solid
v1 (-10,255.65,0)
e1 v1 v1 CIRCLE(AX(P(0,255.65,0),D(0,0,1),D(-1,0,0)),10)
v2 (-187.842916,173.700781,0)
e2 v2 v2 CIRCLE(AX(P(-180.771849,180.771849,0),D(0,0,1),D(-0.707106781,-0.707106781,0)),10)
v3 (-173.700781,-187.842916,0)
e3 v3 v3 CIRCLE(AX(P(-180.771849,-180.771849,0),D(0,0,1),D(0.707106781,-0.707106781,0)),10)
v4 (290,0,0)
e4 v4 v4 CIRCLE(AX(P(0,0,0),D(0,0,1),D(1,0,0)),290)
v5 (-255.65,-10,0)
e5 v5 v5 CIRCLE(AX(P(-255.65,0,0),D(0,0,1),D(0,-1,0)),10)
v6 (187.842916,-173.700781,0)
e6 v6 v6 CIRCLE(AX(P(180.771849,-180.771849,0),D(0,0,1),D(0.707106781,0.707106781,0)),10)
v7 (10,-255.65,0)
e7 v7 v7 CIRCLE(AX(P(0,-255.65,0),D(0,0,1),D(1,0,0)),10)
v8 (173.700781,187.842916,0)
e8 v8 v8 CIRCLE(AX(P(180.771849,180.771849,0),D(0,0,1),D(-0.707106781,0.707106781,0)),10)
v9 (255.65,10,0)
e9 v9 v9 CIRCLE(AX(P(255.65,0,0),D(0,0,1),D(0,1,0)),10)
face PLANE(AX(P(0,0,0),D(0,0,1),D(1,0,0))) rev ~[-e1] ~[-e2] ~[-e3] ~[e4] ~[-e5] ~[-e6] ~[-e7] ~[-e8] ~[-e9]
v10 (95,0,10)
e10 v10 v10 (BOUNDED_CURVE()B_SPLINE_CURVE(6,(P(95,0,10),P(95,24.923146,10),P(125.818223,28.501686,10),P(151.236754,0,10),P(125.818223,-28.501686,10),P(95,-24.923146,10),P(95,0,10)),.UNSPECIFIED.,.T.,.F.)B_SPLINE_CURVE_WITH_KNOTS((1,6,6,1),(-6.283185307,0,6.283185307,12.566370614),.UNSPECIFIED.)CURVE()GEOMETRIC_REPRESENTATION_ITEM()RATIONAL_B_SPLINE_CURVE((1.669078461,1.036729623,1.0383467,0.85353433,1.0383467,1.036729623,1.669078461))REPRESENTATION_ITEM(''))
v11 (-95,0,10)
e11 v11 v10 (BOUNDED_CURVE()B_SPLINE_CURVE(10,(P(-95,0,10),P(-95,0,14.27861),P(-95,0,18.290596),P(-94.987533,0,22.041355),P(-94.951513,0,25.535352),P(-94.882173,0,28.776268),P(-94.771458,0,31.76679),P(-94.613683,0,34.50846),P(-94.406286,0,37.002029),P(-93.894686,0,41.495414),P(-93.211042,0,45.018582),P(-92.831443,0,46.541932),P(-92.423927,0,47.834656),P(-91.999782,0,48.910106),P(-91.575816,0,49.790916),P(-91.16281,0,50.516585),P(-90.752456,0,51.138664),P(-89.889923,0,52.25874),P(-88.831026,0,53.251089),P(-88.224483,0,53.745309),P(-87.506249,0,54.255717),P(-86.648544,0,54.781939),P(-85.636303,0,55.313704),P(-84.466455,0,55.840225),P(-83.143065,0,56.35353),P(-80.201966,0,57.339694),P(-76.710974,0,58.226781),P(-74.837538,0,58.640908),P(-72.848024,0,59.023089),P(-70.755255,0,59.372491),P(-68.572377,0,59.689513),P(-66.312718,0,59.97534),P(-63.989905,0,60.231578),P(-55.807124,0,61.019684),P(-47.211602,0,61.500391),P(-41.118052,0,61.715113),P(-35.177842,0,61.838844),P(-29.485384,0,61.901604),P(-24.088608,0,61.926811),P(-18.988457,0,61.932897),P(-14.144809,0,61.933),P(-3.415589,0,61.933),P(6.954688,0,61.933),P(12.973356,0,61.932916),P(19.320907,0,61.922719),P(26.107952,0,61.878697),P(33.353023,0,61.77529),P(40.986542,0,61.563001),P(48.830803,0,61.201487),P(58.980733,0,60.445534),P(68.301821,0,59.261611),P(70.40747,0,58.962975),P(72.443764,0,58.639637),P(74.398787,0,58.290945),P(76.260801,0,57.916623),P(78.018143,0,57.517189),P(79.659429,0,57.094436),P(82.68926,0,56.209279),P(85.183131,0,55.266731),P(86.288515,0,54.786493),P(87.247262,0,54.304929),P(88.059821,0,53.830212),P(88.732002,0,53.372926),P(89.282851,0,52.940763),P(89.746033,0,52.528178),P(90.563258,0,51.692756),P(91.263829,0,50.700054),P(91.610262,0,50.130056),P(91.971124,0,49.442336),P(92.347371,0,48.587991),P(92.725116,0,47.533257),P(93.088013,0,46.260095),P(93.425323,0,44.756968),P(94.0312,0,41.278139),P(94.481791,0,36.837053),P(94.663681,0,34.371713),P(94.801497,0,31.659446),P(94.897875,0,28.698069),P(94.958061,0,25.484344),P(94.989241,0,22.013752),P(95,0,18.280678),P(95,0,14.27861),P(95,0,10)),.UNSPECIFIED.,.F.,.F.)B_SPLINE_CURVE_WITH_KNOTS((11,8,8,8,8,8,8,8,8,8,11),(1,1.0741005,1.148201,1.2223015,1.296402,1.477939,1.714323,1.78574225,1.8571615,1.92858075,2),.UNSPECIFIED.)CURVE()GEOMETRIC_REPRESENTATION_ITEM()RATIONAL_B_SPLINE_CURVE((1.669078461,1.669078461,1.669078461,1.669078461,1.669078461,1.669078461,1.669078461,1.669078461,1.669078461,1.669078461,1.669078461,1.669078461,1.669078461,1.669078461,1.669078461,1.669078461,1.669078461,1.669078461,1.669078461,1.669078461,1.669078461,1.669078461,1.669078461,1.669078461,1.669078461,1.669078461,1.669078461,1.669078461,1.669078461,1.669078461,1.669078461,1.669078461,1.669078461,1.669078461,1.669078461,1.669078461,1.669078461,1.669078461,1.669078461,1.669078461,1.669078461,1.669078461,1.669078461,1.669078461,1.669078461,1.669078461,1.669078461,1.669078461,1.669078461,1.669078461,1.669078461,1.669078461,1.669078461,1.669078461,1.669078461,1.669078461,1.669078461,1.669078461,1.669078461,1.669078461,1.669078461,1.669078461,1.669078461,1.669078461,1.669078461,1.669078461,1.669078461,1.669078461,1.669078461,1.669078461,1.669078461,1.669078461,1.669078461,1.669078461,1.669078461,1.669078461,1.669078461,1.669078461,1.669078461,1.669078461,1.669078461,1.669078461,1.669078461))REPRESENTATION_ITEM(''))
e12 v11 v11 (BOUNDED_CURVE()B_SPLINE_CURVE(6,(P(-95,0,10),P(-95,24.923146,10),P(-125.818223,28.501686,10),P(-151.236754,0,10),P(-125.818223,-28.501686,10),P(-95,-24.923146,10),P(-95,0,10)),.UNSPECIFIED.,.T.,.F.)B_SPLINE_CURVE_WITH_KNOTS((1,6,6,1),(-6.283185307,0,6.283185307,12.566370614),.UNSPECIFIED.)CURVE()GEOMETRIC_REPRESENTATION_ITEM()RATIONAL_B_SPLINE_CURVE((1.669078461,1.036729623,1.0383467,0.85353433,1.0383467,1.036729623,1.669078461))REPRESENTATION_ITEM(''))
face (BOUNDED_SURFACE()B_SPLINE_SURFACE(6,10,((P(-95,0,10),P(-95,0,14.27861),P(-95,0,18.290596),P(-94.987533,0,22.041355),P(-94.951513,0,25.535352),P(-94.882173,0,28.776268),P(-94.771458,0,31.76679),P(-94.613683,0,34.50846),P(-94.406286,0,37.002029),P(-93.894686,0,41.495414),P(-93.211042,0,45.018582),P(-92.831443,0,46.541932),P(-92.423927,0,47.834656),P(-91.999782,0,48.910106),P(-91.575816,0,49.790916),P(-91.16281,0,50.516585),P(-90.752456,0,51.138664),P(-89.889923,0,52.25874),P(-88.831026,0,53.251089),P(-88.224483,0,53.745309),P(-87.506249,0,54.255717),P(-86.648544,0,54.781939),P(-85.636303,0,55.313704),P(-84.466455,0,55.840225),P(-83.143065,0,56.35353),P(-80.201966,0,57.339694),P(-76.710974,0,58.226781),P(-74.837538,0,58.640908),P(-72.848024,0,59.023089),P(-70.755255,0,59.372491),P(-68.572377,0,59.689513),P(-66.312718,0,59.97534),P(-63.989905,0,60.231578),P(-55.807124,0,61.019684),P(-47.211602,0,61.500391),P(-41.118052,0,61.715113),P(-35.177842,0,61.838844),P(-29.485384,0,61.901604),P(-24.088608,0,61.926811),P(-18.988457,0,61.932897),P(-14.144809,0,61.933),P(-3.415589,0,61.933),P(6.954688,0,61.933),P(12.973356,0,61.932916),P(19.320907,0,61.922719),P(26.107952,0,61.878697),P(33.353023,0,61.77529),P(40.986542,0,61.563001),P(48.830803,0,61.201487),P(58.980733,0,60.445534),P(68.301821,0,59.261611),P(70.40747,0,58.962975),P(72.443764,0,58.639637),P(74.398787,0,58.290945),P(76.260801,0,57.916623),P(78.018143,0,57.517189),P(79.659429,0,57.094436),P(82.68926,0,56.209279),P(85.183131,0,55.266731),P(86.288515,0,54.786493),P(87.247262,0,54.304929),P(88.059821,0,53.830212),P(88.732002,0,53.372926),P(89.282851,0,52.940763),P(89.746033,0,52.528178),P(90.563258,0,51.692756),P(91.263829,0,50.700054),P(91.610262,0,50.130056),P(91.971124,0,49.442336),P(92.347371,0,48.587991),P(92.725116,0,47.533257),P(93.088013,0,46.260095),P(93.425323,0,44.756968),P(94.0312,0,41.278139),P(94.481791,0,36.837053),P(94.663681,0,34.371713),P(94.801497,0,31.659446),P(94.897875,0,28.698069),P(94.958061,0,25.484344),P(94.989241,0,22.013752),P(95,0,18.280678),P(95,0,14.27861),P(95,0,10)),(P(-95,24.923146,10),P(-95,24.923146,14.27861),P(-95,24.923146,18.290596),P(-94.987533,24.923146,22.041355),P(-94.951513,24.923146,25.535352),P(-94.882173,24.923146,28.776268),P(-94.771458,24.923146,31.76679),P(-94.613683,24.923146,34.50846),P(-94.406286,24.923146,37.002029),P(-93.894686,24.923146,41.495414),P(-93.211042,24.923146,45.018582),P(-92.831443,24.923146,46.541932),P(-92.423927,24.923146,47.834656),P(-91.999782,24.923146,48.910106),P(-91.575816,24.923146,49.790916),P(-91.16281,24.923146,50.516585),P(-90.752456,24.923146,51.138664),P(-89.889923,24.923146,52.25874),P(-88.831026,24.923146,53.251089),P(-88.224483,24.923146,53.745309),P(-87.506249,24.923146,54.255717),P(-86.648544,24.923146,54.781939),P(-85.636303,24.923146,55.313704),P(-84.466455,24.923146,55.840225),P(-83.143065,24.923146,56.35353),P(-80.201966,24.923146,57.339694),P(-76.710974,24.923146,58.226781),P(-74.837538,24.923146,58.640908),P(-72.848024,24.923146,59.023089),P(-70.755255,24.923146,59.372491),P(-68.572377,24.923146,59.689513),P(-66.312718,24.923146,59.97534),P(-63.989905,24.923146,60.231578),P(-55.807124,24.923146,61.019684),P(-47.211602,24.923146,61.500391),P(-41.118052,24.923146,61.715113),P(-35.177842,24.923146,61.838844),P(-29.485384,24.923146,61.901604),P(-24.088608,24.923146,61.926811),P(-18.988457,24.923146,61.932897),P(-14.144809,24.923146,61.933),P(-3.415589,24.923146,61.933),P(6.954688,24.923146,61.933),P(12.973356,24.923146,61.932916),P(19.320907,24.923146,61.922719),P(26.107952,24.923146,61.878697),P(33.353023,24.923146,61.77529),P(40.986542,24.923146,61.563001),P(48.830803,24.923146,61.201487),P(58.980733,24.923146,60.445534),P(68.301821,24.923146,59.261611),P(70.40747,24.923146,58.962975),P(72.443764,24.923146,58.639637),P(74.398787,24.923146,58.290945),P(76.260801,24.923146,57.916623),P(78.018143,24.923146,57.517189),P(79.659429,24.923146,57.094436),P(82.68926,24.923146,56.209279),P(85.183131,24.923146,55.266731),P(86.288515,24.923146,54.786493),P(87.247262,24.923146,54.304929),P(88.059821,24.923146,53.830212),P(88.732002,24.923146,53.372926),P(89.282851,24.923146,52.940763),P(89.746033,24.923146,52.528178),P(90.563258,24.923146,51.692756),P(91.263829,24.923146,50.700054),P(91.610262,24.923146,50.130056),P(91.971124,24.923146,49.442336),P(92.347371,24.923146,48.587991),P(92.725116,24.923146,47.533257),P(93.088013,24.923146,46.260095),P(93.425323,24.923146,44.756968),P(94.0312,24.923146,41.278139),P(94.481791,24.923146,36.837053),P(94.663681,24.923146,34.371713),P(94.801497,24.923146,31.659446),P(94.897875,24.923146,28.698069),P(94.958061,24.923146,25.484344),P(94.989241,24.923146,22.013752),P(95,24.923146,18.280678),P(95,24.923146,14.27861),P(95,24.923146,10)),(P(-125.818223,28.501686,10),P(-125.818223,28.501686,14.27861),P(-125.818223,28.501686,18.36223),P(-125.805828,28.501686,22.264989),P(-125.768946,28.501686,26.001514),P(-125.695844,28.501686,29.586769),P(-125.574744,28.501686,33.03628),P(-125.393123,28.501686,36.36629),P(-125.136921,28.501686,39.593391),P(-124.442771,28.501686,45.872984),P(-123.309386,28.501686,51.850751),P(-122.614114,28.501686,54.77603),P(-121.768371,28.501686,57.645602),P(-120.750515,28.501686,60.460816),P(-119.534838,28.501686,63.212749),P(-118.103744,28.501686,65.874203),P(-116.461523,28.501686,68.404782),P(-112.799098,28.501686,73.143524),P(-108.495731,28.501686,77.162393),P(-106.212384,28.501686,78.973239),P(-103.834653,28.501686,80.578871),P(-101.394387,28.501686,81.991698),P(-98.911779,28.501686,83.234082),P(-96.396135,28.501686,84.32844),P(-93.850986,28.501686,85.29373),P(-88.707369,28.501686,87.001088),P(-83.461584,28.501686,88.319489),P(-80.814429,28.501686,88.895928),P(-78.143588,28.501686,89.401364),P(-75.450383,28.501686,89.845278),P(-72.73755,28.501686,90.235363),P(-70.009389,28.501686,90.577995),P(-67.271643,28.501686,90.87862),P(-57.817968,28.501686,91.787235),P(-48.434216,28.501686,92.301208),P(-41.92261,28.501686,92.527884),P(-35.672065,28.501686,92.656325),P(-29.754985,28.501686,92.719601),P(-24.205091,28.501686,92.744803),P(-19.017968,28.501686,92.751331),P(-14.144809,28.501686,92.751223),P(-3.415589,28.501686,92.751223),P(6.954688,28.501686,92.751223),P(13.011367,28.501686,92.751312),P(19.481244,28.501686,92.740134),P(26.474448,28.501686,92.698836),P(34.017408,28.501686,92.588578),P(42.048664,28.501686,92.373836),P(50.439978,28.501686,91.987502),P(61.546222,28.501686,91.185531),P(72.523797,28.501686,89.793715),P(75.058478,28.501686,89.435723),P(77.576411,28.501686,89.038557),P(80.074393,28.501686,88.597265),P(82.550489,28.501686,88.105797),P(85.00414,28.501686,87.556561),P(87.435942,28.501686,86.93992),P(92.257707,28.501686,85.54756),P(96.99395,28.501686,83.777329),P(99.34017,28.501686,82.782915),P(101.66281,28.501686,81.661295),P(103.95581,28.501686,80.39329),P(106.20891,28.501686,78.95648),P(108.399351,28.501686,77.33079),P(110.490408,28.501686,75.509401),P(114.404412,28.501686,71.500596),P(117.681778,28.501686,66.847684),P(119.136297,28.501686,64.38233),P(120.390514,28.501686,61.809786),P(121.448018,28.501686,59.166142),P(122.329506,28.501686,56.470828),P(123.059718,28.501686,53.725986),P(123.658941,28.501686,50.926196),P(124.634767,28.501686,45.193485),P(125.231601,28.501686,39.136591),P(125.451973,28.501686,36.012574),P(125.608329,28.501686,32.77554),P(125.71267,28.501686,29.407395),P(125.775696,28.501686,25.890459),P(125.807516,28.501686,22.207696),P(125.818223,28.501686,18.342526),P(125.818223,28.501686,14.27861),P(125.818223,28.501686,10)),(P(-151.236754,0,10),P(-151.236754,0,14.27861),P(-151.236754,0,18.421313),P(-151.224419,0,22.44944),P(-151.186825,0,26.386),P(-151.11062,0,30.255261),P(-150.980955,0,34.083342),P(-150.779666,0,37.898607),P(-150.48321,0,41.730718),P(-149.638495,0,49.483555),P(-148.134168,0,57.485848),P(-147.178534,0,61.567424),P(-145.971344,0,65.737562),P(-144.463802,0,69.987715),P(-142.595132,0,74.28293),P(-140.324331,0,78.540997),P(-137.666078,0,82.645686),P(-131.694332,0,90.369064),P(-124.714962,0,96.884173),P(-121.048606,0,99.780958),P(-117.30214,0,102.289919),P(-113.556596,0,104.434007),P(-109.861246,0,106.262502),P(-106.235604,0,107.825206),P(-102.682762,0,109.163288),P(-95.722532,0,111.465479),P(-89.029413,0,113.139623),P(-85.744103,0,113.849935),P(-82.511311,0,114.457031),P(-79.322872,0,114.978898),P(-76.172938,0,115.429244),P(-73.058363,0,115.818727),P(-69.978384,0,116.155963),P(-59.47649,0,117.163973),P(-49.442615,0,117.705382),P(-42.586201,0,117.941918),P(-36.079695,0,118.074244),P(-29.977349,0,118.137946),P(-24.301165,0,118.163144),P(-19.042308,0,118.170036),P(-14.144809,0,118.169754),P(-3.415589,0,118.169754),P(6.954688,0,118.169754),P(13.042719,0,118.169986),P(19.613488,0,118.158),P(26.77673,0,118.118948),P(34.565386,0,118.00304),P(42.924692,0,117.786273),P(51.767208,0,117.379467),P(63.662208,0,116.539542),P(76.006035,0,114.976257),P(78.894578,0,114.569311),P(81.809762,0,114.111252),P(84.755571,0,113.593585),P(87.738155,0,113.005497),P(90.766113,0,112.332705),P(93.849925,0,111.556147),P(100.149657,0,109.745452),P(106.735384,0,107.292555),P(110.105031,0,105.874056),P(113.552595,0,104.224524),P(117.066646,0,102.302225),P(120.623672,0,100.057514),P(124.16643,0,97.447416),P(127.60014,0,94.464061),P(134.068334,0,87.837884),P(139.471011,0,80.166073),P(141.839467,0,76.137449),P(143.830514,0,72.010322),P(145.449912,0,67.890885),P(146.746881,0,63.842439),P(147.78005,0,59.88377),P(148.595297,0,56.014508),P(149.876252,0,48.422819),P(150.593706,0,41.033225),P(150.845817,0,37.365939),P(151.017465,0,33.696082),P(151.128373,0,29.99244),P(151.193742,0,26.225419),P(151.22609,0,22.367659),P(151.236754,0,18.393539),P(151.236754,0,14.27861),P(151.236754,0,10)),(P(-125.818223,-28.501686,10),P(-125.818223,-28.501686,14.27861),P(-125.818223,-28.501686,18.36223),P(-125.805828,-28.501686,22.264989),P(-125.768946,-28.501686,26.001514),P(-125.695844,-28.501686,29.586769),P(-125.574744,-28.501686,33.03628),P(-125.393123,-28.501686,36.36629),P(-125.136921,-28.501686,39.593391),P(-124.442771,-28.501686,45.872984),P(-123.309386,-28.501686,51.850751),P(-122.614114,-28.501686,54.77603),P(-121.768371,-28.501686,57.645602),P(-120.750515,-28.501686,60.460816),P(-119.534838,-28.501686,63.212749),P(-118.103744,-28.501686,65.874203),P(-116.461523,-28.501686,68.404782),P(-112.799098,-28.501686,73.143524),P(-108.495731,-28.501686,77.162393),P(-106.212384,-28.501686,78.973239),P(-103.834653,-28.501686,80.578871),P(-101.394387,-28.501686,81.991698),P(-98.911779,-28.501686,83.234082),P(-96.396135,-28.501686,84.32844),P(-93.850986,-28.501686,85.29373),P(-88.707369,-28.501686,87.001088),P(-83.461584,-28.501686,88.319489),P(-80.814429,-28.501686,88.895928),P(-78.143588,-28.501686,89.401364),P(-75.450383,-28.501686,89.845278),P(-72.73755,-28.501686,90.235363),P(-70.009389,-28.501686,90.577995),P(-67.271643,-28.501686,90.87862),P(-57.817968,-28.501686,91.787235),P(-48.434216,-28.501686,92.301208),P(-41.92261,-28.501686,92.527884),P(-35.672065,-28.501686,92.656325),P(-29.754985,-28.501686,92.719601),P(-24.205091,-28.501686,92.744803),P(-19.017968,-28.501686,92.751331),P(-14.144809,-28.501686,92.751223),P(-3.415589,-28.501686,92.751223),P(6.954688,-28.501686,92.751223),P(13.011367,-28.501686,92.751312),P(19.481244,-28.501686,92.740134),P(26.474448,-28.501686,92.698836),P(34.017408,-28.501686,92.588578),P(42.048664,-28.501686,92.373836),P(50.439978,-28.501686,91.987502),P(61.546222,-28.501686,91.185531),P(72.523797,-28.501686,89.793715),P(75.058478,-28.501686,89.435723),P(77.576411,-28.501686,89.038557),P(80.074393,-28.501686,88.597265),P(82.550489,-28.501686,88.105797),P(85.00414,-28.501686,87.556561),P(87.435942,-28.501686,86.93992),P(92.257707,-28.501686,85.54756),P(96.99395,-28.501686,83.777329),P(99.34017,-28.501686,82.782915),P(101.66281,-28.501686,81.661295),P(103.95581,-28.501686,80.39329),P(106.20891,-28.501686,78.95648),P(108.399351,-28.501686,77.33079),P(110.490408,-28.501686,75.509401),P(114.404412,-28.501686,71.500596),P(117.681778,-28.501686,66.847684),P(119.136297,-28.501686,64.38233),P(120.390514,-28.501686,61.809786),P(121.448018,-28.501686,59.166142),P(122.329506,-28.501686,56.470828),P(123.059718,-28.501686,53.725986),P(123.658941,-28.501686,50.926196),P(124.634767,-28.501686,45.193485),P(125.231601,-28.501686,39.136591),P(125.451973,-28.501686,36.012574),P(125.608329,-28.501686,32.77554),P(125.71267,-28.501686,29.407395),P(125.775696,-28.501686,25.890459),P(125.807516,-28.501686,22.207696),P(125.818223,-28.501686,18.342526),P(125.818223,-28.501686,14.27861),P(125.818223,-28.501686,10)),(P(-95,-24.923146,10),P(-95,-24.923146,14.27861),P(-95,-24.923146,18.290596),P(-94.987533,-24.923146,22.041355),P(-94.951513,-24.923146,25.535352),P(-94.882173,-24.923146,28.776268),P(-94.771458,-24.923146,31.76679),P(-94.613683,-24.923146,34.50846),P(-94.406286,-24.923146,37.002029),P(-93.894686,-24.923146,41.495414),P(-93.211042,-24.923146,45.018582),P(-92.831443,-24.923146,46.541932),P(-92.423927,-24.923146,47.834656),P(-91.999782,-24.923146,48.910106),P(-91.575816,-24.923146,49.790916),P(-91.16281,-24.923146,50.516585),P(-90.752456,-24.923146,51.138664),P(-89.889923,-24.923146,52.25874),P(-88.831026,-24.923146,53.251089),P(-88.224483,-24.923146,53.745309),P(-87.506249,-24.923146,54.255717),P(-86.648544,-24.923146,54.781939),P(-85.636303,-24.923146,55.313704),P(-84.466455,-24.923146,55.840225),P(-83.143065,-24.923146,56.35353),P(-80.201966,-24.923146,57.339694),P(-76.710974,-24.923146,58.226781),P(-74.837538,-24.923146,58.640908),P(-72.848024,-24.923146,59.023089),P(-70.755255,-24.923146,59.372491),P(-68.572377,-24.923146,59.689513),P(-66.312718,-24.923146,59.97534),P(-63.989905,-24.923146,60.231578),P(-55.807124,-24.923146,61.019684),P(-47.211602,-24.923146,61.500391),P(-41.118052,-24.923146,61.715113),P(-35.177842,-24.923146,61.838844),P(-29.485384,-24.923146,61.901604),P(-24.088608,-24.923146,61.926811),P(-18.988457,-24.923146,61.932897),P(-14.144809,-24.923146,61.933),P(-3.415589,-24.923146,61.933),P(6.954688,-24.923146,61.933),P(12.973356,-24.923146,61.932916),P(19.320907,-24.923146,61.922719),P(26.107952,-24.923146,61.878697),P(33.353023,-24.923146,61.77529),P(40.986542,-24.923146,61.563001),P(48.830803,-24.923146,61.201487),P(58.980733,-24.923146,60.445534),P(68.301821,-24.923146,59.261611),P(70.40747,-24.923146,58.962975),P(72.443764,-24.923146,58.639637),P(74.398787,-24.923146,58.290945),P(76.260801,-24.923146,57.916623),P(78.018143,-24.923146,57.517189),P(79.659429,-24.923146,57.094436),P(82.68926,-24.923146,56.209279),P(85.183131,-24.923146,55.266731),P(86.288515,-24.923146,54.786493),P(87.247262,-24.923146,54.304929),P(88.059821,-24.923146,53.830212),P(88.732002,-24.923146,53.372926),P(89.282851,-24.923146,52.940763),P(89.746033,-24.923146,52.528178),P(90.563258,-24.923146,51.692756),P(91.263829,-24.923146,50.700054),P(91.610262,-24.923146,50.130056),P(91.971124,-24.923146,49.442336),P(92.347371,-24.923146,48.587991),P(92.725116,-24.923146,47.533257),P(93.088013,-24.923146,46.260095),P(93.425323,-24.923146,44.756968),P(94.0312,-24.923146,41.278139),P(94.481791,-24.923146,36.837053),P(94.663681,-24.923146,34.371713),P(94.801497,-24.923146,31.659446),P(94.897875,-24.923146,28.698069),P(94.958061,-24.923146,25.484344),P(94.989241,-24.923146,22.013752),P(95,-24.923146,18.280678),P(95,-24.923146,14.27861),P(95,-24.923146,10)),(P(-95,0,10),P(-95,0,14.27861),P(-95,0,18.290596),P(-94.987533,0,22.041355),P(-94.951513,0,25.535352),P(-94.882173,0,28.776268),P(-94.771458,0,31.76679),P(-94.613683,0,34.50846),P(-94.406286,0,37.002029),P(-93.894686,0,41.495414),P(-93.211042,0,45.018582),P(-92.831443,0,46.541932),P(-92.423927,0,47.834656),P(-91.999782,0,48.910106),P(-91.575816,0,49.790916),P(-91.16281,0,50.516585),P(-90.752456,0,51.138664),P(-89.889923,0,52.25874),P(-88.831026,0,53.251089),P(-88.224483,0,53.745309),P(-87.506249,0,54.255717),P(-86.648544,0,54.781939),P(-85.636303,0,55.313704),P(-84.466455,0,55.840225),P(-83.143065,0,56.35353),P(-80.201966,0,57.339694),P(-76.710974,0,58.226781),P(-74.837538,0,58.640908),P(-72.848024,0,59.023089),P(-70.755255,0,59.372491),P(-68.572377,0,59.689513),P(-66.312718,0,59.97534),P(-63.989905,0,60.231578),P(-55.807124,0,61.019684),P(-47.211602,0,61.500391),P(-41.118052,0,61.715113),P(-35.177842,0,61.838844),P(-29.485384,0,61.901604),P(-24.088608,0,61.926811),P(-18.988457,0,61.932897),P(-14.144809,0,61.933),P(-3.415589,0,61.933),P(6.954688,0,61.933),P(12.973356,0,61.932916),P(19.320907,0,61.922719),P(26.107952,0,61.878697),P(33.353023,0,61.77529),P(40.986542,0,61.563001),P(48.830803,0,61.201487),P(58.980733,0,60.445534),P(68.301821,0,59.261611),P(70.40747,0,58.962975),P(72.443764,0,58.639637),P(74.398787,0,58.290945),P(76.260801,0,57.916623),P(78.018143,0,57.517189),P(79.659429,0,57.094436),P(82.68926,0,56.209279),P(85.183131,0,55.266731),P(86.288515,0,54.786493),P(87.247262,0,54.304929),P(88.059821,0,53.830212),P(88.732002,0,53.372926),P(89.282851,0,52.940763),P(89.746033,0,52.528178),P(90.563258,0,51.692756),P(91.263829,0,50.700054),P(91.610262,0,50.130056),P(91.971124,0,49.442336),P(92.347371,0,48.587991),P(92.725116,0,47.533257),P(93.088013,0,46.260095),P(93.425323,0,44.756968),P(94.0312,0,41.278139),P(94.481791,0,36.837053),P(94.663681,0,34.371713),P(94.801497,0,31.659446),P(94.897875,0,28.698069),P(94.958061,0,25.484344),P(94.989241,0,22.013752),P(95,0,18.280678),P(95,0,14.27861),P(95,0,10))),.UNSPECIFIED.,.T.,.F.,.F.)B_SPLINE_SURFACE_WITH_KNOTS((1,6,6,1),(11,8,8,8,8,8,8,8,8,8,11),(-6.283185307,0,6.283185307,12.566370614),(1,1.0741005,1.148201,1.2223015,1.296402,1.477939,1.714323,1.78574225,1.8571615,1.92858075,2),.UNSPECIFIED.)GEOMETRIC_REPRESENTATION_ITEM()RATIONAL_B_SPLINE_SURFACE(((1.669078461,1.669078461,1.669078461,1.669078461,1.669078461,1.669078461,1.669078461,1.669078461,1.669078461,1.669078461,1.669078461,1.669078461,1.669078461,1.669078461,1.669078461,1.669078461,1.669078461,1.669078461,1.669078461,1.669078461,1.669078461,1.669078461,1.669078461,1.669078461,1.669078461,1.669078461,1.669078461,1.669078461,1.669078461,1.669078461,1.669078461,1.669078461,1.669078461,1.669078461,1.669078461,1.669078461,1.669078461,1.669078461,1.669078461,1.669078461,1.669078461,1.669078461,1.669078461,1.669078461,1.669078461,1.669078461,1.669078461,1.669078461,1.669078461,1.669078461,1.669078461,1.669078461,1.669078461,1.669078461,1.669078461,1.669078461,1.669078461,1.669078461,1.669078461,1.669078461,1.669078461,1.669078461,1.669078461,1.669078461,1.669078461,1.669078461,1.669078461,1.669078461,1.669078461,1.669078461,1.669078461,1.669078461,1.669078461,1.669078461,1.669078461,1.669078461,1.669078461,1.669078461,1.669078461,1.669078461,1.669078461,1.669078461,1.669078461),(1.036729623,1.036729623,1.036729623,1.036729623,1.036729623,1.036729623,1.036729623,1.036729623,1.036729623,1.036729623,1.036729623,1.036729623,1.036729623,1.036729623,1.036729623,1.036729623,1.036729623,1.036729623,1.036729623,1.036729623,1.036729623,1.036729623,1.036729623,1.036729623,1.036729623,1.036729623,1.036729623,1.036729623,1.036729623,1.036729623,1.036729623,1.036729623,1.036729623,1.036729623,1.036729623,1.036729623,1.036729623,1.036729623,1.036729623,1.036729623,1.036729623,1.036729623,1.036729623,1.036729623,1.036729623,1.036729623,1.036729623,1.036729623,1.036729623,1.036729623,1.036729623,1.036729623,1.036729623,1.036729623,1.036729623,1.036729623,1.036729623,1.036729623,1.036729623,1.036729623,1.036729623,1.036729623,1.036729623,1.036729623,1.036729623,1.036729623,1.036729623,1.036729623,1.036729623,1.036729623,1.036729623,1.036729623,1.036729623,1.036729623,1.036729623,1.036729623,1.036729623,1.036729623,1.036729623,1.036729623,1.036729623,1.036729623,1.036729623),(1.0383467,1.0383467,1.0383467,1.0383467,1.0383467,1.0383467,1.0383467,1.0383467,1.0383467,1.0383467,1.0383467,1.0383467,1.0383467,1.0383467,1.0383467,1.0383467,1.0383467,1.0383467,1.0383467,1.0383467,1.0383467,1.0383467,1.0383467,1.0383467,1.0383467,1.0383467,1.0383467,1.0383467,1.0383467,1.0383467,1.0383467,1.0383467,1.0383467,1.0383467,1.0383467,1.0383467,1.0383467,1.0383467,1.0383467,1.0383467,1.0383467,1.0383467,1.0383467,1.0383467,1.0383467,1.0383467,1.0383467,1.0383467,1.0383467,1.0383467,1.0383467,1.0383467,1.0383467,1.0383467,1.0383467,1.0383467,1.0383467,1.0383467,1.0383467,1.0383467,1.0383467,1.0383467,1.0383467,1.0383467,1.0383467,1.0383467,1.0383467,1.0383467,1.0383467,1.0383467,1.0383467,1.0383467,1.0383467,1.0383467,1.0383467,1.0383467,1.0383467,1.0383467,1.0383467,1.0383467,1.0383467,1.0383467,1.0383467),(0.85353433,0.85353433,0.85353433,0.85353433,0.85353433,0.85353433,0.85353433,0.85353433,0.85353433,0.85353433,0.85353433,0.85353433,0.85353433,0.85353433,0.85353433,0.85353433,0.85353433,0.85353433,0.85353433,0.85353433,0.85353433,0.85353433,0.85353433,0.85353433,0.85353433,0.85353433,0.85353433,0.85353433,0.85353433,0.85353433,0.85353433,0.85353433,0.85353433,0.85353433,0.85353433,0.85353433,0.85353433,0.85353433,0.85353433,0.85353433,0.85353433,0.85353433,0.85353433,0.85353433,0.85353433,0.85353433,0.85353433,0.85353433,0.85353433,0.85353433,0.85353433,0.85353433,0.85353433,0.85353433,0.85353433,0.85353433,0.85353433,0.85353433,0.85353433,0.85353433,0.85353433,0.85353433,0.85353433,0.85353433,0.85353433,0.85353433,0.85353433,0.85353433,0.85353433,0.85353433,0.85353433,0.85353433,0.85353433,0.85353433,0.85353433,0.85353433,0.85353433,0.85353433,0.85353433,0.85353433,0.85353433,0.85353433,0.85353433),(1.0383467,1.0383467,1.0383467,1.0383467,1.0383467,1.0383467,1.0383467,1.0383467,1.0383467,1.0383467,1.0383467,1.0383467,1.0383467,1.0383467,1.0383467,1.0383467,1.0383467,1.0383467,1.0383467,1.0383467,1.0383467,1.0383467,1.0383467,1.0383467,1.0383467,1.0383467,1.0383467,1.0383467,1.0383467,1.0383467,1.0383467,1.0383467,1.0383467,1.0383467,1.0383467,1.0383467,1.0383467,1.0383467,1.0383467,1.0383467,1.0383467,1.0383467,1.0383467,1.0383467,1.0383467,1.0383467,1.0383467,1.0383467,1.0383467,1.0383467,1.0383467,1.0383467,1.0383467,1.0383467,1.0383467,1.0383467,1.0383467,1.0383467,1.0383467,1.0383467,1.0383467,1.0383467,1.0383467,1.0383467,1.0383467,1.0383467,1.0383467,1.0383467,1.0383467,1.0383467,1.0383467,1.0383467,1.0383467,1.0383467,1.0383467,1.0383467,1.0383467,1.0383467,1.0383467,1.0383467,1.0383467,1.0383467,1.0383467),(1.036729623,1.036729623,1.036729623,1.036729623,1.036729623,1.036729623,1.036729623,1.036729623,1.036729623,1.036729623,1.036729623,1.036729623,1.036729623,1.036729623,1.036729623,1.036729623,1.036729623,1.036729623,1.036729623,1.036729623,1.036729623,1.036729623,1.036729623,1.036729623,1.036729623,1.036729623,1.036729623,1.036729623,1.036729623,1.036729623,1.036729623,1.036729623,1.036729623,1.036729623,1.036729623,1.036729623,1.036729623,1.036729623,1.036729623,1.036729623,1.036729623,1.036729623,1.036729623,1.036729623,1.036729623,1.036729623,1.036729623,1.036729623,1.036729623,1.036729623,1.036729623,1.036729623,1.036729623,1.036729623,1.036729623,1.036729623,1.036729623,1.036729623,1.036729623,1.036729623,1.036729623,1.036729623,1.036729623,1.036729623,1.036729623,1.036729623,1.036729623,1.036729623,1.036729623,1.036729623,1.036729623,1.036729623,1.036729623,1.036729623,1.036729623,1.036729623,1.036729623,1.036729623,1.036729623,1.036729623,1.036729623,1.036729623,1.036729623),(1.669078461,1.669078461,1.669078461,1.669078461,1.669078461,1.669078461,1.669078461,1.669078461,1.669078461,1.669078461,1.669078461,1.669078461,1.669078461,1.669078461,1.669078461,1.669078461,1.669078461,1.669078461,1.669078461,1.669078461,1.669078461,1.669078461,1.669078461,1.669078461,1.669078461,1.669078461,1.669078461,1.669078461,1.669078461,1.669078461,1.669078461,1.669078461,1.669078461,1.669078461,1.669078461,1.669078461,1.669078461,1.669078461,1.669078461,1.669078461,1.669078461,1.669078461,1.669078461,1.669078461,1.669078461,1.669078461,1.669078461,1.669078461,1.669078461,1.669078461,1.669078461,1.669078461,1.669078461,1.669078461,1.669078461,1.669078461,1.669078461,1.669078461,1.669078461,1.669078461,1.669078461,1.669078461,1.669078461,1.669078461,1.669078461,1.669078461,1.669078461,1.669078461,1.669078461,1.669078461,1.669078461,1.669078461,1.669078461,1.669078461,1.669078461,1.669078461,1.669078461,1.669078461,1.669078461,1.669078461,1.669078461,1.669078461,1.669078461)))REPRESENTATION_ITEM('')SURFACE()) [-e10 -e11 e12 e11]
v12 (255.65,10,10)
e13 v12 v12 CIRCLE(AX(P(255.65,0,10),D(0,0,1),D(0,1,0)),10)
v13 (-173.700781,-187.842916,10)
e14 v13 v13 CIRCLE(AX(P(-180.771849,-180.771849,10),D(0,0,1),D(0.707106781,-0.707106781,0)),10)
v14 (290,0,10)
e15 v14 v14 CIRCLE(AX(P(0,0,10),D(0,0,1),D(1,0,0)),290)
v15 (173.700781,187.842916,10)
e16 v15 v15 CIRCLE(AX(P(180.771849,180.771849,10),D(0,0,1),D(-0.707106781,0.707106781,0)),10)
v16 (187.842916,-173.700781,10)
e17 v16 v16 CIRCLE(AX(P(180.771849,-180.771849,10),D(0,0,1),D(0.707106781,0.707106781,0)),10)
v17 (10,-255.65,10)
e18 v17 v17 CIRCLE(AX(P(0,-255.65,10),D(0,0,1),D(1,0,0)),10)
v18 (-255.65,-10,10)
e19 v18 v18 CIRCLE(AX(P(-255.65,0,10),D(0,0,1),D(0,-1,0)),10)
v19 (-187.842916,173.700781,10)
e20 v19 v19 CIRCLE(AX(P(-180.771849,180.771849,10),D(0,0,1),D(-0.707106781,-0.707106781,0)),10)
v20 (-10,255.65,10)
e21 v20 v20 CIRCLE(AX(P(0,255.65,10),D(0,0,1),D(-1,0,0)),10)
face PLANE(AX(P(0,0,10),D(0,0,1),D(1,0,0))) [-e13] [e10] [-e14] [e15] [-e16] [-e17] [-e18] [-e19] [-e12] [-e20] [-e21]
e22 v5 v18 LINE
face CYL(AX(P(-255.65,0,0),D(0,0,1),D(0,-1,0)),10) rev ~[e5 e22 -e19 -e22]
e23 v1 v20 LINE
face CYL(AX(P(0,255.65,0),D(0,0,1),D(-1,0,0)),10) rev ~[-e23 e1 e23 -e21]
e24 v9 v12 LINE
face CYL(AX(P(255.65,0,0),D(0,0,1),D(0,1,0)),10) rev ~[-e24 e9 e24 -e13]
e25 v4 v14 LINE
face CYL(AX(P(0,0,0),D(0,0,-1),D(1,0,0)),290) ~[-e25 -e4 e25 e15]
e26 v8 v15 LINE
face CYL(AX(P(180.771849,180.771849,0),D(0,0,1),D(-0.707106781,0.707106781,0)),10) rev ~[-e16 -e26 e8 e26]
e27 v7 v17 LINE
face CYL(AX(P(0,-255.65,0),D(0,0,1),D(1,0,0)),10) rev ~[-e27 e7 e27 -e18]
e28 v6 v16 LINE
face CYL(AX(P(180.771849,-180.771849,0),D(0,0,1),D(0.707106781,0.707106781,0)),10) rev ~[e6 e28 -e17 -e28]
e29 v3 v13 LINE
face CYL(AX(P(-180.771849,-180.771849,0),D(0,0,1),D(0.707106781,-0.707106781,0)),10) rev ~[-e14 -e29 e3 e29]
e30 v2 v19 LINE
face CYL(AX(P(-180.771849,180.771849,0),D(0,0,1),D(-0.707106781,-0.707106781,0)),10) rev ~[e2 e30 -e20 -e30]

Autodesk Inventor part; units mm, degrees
ref_plane "YZ Plane" through (0, 0, 0) normal (1, 0, 0) x (0, 1, 0)
ref_plane "XZ Plane" through (0, 0, 0) normal (0, 1, 0) x (-1, 0, 0)
ref_plane "XY Plane" through (0, 0, 0) normal (0, 0, 1) x (1, 0, 0)
sketch "草图1" plane through (0, 0, 0) normal (0, 0, 1) x (1, 0, 0)
  circle A0 centre (0, 0) radius 290
  dimension "d0" = 580
extrude "拉伸1" add sketch "草图1" along normal blind 10
sketch "草图2" plane through (0, 0, 0) normal (0, 0, 1) x (1, 0, 0)
  line L0 (0, 0) -> (255.65, 0)
  circle A0 centre (0, 0) radius 255.65
  dimension "d4" = 255.65
hole "孔1" at (255.65, 0, 0) direction (0, 0, 1) diameter 20 end through all
pattern_circular "环形阵列1" count 8 over 360 about axis through (0, 0, -10) along (0, 0, 1) of "孔1"
sketch "草图3" plane through (0, 0, 10) normal (0, 0, 1) x (1, 0, 0)
  circle A0 centre (0, 0) radius 290 projected
  circle A1 centre (-110, 0) radius 15
  circle A2 centre (110, 0) radius 15
  dimension "d15" = 30
  dimension "d16" = 110
  dimension "d18" = 30
  dimension "d19" = 110
sketch "草图4" plane through (0, 0, 0) normal (0, 1, 0) x (-1, 0, 0)
  line L0 (110, 10) -> (110, 52.7861) construction
  line L1 (-110, 52.7861) -> (-110, 10) construction
  spline S0 degree 4 poles (110, 10) (110, 52.7861) (110, 76.933) (17.246, 76.933) (-17.246, 76.933) (-110, 76.933) (-110, 52.7861) (-110, 10) knots 1 1 1 1 1 1.296402 1.477939 1.714323 2 2 2 2 2
  line L2 (110, 52.7861) -> (110, 76.933) construction
  line L3 (-110, 76.933) -> (-110, 52.7861) construction
  line L4 (110, 76.933) -> (17.246, 76.933) construction
  line L5 (17.246, 76.933) -> (-17.246, 76.933) construction
  line L6 (-17.246, 76.933) -> (-110, 76.933) construction
  line L7 (0, -18.6745) -> (0, 112.0473) projected
  point P0 (0, 0)
sweep "扫掠2" add profiles "草图3" path "草图4" path curves S0 contours A1
properties part number "人孔法兰"
